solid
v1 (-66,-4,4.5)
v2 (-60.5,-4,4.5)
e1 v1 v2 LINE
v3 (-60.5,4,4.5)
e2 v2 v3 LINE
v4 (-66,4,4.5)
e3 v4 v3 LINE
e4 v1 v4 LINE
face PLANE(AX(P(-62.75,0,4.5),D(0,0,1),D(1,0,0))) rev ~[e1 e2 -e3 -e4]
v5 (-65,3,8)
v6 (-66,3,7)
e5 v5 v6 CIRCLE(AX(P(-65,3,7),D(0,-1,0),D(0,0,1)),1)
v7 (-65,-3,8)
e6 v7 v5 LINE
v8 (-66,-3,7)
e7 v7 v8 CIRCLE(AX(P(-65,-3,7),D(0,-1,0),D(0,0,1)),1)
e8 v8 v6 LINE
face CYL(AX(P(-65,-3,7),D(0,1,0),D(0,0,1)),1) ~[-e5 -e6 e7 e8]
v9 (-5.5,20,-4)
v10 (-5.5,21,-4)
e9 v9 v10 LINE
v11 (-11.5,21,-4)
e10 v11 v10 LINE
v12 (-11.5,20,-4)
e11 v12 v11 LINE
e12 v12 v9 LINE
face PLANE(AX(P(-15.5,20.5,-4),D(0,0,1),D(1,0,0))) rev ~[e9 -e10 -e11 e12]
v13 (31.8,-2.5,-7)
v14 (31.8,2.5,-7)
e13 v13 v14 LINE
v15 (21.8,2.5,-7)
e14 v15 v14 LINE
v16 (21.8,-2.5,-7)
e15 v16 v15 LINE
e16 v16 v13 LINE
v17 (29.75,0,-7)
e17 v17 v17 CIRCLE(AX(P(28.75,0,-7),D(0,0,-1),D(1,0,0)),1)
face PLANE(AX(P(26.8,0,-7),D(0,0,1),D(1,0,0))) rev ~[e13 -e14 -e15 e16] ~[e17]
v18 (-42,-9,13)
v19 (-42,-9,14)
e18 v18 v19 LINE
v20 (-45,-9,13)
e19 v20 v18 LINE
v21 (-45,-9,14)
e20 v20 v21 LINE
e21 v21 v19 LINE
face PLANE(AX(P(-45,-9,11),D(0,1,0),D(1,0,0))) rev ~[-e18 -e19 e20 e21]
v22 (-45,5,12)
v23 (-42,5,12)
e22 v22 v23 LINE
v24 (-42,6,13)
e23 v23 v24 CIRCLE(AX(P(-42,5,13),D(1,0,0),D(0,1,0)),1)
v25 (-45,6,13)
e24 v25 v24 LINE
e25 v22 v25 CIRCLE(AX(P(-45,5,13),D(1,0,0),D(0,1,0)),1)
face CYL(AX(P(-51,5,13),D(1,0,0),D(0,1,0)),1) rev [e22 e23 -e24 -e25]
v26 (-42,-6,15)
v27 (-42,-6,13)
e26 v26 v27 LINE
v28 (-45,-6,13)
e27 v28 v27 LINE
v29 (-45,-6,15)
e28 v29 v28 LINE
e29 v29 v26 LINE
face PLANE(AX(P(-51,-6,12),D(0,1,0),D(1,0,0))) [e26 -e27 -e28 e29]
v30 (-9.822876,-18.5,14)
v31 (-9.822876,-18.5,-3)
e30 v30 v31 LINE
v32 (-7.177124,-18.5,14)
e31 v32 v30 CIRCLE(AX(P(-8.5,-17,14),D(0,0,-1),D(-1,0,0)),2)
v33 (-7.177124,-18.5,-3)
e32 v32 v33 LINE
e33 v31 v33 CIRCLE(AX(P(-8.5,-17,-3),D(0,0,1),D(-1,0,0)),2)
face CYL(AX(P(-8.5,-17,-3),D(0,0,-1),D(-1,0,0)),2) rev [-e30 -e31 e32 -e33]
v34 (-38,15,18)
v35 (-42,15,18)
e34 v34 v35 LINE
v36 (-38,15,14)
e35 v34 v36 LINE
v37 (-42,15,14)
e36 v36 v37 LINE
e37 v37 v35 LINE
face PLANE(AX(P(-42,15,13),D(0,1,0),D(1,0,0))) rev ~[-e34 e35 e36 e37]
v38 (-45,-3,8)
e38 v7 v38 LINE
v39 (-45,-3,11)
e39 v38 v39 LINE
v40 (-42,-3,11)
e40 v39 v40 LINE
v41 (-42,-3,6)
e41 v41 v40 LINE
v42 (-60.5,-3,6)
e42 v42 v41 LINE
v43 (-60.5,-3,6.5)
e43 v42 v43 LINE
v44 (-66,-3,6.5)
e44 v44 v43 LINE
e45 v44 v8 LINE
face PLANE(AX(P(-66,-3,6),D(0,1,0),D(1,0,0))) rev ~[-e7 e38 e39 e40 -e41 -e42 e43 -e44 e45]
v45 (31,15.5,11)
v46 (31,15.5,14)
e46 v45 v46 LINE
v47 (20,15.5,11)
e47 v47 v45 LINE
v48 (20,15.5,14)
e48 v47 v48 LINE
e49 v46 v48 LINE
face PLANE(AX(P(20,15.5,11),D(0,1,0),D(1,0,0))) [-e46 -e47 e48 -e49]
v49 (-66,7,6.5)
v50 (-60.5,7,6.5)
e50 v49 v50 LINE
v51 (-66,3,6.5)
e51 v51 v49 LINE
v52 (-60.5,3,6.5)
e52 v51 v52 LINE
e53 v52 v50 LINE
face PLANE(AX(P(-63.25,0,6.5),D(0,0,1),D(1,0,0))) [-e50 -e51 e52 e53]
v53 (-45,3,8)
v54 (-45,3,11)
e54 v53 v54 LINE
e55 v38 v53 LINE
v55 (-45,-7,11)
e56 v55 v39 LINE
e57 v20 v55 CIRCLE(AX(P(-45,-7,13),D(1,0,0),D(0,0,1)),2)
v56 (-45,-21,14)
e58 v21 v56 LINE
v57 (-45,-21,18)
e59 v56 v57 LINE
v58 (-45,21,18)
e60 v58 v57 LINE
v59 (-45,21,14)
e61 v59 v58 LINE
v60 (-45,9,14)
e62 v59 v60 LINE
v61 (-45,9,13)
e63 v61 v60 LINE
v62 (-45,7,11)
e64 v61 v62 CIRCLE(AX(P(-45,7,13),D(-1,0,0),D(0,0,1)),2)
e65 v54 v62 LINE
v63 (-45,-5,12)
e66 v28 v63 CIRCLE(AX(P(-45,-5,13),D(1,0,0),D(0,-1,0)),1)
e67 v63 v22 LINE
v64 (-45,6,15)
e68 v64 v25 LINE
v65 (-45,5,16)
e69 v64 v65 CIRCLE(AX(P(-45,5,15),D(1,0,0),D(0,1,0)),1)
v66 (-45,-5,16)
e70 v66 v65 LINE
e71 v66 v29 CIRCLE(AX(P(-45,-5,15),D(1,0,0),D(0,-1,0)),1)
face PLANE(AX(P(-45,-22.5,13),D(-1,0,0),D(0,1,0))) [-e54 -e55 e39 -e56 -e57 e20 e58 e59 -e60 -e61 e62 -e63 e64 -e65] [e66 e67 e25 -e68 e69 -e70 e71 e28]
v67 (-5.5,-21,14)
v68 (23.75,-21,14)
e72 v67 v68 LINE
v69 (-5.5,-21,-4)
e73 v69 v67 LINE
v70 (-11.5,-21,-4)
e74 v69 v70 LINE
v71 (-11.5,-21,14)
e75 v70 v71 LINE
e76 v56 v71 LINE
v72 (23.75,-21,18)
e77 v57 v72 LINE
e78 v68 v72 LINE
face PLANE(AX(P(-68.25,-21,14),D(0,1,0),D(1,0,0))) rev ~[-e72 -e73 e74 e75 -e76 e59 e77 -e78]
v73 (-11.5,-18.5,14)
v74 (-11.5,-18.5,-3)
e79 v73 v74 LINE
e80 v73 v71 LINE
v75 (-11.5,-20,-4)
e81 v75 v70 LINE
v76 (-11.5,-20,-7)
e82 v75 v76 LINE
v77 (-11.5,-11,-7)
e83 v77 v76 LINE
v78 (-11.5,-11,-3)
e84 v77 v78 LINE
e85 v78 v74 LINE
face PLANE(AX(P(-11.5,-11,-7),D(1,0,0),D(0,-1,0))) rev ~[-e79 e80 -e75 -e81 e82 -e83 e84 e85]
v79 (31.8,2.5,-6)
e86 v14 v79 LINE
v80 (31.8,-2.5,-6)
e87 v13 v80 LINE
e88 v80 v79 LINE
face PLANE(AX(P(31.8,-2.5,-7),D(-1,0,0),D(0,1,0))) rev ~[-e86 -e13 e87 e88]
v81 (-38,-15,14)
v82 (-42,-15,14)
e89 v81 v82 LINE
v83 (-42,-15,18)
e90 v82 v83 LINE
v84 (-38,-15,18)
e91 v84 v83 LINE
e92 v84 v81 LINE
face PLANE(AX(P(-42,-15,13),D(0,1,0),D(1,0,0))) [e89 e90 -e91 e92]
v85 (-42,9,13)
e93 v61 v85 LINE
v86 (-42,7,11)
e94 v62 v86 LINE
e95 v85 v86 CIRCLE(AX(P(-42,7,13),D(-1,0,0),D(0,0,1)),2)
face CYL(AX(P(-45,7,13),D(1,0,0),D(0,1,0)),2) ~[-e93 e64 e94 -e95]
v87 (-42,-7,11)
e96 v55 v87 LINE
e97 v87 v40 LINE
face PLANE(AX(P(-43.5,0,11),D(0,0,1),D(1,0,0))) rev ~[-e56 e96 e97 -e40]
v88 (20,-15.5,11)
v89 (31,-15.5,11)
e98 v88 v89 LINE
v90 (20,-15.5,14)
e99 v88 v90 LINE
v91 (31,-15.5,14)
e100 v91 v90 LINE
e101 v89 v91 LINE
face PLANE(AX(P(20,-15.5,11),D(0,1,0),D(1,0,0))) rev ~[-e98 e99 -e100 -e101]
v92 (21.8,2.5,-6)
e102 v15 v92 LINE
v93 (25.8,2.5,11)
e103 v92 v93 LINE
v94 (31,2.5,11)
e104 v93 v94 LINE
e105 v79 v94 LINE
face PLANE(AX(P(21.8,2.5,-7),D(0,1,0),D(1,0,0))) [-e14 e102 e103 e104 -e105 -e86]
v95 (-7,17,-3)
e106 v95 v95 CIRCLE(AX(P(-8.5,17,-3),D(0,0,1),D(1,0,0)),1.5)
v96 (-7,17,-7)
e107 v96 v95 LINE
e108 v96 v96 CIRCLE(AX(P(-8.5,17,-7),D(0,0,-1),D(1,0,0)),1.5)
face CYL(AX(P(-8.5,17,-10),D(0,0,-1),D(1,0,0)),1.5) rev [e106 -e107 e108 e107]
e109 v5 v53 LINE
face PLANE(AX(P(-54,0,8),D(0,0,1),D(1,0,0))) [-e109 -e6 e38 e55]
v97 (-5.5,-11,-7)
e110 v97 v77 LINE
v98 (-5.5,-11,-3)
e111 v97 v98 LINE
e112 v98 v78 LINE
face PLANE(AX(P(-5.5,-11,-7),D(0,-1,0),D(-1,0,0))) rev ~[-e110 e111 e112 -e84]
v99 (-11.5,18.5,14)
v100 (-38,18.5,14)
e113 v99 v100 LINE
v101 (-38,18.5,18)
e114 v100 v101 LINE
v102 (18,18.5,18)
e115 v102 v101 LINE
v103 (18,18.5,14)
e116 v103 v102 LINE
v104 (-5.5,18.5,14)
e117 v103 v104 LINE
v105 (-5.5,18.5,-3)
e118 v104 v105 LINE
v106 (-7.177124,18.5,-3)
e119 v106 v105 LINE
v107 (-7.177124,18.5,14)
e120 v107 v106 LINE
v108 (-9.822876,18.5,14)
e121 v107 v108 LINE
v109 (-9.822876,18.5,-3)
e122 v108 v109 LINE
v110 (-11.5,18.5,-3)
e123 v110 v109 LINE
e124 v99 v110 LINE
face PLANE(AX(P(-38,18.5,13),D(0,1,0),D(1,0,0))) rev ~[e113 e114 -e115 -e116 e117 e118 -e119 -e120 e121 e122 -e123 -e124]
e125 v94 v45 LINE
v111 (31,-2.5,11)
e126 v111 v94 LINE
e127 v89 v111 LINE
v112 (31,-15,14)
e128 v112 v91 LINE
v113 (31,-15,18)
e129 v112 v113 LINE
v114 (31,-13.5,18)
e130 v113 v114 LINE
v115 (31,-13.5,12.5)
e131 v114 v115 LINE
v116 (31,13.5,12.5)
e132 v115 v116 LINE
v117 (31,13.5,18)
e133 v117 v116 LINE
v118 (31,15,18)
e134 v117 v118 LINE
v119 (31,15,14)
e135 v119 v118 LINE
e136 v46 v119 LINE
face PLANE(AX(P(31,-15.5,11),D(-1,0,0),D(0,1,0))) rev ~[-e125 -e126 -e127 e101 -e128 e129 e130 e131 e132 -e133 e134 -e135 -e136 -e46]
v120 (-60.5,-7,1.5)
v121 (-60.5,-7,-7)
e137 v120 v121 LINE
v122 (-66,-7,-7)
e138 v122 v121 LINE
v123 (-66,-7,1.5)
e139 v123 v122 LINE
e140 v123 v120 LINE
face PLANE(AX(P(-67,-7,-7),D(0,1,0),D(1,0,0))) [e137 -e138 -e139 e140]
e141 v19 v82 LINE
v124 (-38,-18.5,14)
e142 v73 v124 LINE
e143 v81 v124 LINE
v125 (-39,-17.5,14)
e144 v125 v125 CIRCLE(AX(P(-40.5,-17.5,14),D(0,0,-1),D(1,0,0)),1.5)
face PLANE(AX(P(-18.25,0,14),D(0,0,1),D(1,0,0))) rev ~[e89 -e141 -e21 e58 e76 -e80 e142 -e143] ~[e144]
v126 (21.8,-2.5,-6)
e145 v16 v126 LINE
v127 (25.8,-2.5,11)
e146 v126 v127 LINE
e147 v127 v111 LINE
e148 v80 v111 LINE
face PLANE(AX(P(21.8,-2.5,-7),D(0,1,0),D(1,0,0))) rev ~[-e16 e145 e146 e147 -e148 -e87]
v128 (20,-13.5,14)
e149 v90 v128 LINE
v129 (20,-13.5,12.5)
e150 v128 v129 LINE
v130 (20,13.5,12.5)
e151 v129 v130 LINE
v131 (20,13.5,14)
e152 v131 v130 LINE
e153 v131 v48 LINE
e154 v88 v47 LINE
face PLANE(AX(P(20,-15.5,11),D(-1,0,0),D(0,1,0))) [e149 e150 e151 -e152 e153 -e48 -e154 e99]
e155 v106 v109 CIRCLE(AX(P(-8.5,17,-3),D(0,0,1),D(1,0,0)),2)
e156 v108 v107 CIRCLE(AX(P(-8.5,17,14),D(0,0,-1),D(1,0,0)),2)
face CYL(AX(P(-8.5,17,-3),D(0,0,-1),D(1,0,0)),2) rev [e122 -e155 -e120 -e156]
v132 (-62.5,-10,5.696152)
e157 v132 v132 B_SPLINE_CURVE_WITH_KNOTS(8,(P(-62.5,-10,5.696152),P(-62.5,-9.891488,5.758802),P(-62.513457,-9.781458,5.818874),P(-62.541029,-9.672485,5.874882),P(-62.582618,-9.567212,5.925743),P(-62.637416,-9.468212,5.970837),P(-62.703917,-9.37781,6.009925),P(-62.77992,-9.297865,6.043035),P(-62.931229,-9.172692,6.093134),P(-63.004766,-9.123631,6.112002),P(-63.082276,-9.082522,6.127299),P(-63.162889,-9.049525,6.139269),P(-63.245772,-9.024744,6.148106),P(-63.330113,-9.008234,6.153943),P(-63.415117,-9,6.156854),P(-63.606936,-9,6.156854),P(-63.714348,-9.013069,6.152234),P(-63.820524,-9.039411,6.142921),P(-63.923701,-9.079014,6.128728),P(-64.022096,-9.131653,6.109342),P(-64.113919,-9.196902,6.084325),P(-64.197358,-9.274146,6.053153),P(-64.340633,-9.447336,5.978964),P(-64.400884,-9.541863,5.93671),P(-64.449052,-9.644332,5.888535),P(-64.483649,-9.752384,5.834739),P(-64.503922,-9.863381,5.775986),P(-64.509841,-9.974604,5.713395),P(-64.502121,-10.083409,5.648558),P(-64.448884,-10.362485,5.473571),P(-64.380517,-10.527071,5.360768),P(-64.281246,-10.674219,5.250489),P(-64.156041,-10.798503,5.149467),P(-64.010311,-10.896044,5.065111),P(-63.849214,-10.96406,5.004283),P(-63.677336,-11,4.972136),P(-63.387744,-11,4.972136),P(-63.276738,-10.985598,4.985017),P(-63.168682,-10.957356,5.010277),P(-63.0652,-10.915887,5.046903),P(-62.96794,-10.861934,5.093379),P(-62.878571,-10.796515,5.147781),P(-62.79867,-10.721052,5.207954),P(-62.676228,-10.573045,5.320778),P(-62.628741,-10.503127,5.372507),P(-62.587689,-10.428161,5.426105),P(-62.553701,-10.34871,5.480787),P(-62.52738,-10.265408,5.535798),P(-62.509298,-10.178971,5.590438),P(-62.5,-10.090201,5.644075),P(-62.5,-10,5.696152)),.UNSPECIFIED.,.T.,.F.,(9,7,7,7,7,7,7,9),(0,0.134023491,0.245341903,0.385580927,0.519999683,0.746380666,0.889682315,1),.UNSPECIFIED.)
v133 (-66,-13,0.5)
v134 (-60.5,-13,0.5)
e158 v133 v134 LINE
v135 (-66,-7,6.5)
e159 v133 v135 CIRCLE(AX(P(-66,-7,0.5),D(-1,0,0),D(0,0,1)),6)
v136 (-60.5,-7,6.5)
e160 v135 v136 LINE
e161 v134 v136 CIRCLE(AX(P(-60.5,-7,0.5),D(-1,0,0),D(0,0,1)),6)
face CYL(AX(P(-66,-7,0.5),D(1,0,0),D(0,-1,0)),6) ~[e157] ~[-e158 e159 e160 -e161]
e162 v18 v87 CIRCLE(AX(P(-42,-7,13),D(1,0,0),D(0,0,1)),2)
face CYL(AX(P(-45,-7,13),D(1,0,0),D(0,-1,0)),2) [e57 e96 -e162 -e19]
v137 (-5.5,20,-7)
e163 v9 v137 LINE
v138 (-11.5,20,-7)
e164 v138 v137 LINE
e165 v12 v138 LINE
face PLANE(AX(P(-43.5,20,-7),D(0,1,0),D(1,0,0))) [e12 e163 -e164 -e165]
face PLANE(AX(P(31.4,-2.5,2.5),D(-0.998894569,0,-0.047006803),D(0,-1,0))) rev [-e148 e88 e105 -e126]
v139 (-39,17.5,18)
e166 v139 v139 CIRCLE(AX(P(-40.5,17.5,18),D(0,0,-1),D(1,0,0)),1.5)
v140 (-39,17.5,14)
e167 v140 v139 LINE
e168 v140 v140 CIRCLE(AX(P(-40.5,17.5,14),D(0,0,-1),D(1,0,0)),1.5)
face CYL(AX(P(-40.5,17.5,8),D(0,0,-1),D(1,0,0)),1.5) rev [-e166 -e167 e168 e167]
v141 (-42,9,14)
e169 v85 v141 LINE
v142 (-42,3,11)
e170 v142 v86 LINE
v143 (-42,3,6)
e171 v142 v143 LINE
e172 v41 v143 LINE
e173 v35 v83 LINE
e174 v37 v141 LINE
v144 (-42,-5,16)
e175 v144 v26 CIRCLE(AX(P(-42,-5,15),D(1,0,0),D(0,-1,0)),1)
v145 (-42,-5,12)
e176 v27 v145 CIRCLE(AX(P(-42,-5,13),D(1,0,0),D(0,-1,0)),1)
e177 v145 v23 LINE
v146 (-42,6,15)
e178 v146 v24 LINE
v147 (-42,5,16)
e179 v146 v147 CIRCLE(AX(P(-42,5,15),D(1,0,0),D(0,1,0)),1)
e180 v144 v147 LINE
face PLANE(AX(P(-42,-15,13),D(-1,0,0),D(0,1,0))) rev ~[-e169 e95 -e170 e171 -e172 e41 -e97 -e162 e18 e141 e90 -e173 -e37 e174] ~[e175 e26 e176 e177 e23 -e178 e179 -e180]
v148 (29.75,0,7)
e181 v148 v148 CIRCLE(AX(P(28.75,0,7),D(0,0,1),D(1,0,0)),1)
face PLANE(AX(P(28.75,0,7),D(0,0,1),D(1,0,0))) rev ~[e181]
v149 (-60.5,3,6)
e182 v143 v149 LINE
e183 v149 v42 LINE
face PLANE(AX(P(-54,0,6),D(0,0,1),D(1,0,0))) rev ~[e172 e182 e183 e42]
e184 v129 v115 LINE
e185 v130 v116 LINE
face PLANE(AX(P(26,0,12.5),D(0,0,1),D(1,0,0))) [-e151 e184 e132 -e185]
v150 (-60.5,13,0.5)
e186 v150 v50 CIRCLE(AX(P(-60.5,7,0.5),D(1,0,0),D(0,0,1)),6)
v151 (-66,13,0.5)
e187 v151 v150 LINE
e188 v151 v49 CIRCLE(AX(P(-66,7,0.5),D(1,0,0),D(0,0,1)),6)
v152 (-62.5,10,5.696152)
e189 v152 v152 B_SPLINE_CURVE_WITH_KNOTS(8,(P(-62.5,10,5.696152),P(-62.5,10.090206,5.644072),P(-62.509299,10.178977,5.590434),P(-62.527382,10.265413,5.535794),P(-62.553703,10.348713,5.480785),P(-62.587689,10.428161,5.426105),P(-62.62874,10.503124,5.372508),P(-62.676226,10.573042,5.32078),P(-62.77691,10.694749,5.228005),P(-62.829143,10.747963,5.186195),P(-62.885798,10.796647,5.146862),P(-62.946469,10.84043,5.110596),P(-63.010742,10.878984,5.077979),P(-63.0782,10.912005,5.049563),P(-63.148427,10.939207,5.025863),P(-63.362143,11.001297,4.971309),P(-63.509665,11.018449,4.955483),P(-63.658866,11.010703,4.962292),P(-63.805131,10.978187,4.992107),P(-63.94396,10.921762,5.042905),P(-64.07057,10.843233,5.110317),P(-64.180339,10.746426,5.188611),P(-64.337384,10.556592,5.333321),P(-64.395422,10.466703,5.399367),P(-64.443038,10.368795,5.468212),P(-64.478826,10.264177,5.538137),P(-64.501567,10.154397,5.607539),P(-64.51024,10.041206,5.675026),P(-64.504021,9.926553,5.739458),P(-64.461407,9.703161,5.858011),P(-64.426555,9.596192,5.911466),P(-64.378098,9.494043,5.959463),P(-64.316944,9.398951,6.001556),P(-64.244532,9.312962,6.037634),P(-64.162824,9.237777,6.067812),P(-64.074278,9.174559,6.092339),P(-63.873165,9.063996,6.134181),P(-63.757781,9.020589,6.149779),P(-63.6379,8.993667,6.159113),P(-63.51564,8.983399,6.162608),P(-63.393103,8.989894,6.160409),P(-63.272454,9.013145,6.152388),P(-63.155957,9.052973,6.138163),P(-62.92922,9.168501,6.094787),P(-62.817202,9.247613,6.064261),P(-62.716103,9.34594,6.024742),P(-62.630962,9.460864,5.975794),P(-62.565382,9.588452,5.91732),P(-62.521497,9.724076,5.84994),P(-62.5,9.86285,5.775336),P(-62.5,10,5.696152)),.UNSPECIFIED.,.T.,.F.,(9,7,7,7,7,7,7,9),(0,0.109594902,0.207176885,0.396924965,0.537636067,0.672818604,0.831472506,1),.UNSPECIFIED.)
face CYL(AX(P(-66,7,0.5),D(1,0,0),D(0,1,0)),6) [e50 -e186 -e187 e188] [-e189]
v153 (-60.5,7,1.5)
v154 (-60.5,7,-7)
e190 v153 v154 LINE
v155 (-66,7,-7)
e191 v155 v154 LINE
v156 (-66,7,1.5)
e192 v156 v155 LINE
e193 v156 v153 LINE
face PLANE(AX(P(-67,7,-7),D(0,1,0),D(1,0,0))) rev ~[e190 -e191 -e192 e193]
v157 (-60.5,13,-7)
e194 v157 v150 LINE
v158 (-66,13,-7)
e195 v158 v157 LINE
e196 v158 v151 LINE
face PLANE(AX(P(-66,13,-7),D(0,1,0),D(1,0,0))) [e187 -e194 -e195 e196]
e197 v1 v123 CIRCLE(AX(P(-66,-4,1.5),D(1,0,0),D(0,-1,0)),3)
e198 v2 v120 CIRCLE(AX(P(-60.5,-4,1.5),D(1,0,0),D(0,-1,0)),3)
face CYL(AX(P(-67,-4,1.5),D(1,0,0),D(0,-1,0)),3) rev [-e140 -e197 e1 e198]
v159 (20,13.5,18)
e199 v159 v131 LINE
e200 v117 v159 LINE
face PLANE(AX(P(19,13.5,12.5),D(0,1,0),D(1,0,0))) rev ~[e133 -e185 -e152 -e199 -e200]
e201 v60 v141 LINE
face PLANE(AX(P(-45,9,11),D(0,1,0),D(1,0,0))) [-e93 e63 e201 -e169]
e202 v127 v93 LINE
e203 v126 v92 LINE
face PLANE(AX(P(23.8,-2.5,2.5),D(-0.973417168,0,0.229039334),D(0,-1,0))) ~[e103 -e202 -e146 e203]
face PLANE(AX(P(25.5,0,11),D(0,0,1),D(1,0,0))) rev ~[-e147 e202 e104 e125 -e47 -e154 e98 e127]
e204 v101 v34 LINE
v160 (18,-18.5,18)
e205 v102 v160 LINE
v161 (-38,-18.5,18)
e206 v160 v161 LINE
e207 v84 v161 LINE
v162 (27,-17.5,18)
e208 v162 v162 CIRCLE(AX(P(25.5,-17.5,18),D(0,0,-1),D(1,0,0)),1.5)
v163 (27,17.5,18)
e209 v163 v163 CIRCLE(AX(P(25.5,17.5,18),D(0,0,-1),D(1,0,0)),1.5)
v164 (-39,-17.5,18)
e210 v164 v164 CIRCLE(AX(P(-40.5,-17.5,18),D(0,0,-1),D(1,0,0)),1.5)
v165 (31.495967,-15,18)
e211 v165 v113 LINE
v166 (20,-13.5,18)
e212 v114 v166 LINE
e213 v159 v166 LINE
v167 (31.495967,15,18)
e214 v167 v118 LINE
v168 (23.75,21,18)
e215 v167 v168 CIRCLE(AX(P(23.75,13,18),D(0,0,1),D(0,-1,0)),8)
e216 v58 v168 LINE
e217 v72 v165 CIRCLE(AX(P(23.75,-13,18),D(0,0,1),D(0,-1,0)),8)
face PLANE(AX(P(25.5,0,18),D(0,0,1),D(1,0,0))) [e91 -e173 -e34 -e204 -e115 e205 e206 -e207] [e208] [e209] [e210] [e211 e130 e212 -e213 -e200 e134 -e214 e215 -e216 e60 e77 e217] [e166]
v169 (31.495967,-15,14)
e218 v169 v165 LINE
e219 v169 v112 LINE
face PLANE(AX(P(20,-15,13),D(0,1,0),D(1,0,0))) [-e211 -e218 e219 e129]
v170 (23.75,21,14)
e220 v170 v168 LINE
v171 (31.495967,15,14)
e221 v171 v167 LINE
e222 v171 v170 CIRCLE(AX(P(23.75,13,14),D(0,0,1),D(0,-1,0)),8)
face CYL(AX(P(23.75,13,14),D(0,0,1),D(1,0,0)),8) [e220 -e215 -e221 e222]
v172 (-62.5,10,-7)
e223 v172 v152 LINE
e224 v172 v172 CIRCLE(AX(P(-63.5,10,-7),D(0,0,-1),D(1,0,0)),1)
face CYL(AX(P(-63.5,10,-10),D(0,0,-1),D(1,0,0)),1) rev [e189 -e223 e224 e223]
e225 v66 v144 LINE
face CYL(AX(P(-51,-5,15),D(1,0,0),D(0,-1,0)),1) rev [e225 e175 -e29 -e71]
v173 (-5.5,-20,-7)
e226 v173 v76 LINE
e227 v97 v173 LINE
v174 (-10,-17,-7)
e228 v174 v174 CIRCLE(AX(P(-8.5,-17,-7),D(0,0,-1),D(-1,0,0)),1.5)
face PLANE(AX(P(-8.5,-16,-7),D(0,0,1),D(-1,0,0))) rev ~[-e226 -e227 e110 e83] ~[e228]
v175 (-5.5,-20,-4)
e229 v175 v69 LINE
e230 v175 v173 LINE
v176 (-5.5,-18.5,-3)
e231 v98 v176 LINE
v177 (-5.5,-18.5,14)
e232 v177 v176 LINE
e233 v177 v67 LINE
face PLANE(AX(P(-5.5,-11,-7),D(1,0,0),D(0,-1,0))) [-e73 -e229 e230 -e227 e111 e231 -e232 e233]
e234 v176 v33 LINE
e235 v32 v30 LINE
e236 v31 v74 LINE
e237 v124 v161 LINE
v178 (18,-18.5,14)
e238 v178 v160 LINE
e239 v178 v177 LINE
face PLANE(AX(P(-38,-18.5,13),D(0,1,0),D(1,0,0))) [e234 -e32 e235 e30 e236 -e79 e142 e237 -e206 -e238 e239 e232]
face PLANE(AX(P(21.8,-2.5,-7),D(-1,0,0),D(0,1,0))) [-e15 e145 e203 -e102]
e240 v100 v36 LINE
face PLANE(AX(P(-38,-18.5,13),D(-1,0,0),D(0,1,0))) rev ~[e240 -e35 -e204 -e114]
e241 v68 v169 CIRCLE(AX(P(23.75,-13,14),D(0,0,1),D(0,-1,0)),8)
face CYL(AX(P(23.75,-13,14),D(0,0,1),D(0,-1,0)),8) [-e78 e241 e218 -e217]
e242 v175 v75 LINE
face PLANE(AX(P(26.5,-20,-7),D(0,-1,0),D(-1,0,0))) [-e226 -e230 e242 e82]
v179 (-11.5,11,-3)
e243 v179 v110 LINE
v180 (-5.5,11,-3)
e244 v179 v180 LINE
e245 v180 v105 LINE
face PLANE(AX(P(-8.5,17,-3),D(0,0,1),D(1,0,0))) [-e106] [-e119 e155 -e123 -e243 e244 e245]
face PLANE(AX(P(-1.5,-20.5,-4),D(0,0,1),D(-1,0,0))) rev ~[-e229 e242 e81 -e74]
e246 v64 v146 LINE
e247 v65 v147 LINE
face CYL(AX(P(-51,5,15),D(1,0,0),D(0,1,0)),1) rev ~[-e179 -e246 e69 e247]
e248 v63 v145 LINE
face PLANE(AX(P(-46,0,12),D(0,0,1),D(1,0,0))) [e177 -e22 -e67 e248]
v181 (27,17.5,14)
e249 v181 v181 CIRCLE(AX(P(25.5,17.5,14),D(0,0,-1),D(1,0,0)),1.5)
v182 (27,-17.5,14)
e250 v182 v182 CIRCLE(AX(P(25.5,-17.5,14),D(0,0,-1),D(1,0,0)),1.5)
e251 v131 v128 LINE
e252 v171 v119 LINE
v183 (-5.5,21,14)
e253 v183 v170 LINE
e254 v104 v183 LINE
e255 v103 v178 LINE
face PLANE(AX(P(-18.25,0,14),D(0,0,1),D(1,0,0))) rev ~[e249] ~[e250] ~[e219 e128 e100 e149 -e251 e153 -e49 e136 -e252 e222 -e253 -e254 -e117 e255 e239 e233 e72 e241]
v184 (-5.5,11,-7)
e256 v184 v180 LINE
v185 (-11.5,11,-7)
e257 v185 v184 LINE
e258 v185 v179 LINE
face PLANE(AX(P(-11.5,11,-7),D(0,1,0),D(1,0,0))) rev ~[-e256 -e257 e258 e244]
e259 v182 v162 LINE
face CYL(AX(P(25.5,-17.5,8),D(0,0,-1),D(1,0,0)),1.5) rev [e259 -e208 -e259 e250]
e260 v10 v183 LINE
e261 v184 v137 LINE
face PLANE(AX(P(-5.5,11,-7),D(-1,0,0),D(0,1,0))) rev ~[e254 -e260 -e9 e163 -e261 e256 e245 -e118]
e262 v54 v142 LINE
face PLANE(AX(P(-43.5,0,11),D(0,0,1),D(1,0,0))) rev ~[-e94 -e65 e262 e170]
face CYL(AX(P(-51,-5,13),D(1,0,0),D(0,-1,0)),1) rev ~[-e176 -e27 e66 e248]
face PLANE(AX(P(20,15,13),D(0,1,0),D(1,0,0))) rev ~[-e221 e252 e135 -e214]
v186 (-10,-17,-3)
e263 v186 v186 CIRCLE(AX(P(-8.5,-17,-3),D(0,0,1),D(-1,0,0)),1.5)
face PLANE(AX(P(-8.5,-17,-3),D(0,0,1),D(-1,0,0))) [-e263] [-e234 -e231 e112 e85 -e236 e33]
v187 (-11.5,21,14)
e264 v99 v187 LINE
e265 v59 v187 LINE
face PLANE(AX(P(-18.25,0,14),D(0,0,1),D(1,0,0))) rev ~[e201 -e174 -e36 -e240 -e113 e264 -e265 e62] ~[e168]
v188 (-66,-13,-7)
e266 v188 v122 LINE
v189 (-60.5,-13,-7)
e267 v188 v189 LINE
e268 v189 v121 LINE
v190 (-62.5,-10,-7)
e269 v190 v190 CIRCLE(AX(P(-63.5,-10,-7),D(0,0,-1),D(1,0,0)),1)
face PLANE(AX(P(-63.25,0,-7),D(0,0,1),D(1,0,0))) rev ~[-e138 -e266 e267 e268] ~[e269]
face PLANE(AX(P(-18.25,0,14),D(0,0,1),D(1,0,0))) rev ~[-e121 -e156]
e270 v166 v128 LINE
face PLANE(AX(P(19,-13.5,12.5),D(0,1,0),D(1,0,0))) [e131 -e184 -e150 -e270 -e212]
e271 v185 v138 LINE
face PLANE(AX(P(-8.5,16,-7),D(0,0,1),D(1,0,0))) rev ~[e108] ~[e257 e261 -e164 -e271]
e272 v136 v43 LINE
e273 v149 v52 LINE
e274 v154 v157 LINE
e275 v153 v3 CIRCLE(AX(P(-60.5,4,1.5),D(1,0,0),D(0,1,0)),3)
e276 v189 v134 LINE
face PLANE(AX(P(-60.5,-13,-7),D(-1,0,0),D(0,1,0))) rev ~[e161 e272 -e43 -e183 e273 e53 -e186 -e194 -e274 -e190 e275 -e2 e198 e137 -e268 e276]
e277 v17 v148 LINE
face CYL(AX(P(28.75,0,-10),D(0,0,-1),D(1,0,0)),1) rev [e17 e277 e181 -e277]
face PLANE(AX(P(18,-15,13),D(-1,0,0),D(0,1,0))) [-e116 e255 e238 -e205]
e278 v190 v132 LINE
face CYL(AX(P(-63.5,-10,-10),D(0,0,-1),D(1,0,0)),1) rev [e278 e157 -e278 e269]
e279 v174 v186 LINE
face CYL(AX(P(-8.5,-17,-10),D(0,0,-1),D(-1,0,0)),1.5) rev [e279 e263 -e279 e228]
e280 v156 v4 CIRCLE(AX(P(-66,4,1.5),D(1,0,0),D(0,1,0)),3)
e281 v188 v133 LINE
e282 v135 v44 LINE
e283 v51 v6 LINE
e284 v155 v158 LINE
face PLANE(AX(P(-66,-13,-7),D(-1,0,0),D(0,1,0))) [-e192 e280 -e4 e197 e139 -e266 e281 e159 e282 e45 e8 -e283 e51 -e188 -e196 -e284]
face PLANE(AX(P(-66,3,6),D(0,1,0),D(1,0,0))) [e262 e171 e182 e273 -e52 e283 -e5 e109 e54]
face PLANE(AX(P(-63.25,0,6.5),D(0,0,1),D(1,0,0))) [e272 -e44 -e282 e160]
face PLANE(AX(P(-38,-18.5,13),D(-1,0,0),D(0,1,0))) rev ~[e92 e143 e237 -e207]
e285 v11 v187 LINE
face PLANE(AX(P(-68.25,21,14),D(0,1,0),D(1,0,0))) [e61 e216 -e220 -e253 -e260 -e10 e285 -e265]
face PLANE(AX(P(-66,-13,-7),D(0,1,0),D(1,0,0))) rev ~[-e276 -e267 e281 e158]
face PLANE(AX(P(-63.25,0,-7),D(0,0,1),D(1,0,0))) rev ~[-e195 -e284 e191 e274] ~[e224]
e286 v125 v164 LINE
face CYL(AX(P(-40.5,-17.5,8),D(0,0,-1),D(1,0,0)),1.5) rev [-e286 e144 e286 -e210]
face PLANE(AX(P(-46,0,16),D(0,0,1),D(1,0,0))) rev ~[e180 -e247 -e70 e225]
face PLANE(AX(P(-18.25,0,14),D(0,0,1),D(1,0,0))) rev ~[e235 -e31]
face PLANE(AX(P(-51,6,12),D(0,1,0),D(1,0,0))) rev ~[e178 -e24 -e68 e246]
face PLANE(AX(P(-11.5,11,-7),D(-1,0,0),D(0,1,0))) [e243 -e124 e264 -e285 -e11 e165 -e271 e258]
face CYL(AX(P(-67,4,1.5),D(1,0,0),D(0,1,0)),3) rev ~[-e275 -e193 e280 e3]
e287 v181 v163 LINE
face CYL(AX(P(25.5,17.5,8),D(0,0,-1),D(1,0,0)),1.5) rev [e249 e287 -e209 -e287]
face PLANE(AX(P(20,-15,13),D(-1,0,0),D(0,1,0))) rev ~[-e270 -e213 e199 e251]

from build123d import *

# Parameters (mm, degrees)
BOX148_W               = 10
BOX148_H               = 12
BOX148_DEPTH           = 4
FILLET092_R            = 1
CYLINDER225_R          = 1
CYLINDER225_DEPTH      = 17
BOX132_W               = 10
BOX132_H               = 5
BOX132_DEPTH           = 18
CHAMFER021_1_SIZE2     = 4
CHAMFER021_1_SIZE      = 17
CHAMFER021_2_SIZE2     = 0.8
CHAMFER021_2_SIZE      = 17
BOX116_W               = 56
BOX116_H               = 37
BOX116_DEPTH           = 6
BOX130_W               = 60
BOX130_H               = 30
BOX130_DEPTH           = 6
CYLINDER224_R          = 1.5
CYLINDER224_DEPTH      = 12
BOX131_W               = 12
BOX131_H               = 30
BOX131_DEPTH           = 6
CYLINDER222_R          = 1.5
CYLINDER222_DEPTH      = 12
CYLINDER221_R          = 1.5
CYLINDER221_DEPTH      = 12
CYLINDER223_R          = 1.5
CYLINDER223_DEPTH      = 12
BOX134_W               = 25
BOX134_H               = 45
BOX134_DEPTH           = 6
BOX097_W               = 100
BOX097_H               = 42
BOX097_DEPTH           = 4
FILLET082_R            = 8
CYLINDER226_R          = 1.5
CYLINDER226_DEPTH      = 21
BOX138_W               = 8
BOX138_H               = 10
BOX138_DEPTH           = 21
BOX137_W               = 8
BOX137_H               = 10
BOX137_DEPTH           = 21
CYLINDER228_R          = 2
CYLINDER228_DEPTH      = 21
BOX110_W               = 56
BOX110_H               = 1
BOX110_DEPTH           = 3
BOX136_W               = 6
BOX136_H               = 10
BOX136_DEPTH           = 21
CYLINDER227_R          = 1.5
CYLINDER227_DEPTH      = 21
BOX141_W               = 8
BOX141_H               = 10
BOX141_DEPTH           = 21
BOX140_W               = 8
BOX140_H               = 10
BOX140_DEPTH           = 21
CYLINDER229_R          = 2
CYLINDER229_DEPTH      = 21
BOX139_W               = 56
BOX139_H               = 1
BOX139_DEPTH           = 3
BOX142_W               = 6
BOX142_H               = 10
BOX142_DEPTH           = 21
CUT100_PLACEMENT_ANGLE = 180
BOX143_W               = 14
BOX143_H               = 27
BOX143_DEPTH           = 8
BOX144_W               = 11
BOX144_H               = 31
BOX144_DEPTH           = 7
CYLINDER233_R          = 1
CYLINDER233_DEPTH      = 19
CYLINDER232_R          = 1
CYLINDER232_DEPTH      = 19
BOX152_W               = 8.5
BOX152_H               = 14
BOX152_DEPTH           = 11.5
FILLET095_R            = 3
BOX151_W               = 5.5
BOX151_H               = 26
BOX151_DEPTH           = 13.5
FILLET093_R            = 6
BOX150_W               = 24
BOX150_H               = 6
BOX150_DEPTH           = 2
BOX147_W               = 3
BOX147_H               = 18
BOX147_DEPTH           = 4
FILLET090_R            = 2
BOX149_W               = 3
BOX149_H               = 6
BOX149_DEPTH           = 6
FILLET094_R            = 1


with BuildPart() as fillet092:
    # Box148 → Box148 (new body)
    with BuildSketch(Plane(origin=(-51, -6, 12), x_dir=(1, 0, 0), z_dir=(0, 0, 1))):
        with Locations((5, 6)):
            Rectangle(BOX148_W, BOX148_H)
    extrude(amount=BOX148_DEPTH)

    # Fillet092
    fillet092_edges = [fillet092.edges().sort_by_distance(p)[0] for p in [
        (-46, -6, 12),
        (-46, -6, 16),
        (-46, 6, 12),
        (-46, 6, 16),
    ]]
    fillet(fillet092_edges, radius=FILLET092_R)


with BuildPart() as zylinder225:
    # Cylinder225 → Cylinder225 (new body)
    with BuildSketch(Plane(origin=(28.75, 0, -10), x_dir=(1, 0, 0), z_dir=(0, 0, 1))):
        Circle(CYLINDER225_R)
    extrude(amount=CYLINDER225_DEPTH)


with BuildPart() as cut098:
    # Box132 → Box132 (new body)
    with BuildSketch(Plane(origin=(21.8, -2.5, -7), x_dir=(1, 0, 0), z_dir=(0, 0, 1))):
        with Locations((5, 2.5)):
            Rectangle(BOX132_W, BOX132_H)
    extrude(amount=BOX132_DEPTH)

    # Chamfer021 1
    chamfer021_1_edges = [cut098.edges().sort_by_distance(p)[0] for p in [
        (21.8, 0, 11),
    ]]
    chamfer021_1_side = cut098.faces().sort_by_distance((21.8, 0, 2))[0]
    chamfer(chamfer021_1_edges, length=CHAMFER021_1_SIZE, length2=CHAMFER021_1_SIZE2, reference=chamfer021_1_side)

    # Chamfer021 2
    chamfer021_2_edges = [cut098.edges().sort_by_distance(p)[0] for p in [
        (31.8, 0, 11),
    ]]
    chamfer021_2_side = cut098.faces().sort_by_distance((31.8, 0, 2))[0]
    chamfer(chamfer021_2_edges, length=CHAMFER021_2_SIZE, length2=CHAMFER021_2_SIZE2, reference=chamfer021_2_side)

    # Cut098: cut Zylinder225
    add(zylinder225.part, mode=Mode.SUBTRACT)


with BuildPart() as w_rfel110:
    # Box116 → Box116 (new body)
    with BuildSketch(Plane(origin=(-38, -18.5, 13), x_dir=(1, 0, 0), z_dir=(0, 0, 1))):
        with Locations((28, 18.5)):
            Rectangle(BOX116_W, BOX116_H)
    extrude(amount=BOX116_DEPTH)


with BuildPart() as w_rfel120:
    # Box130 → Box130 (new body)
    with BuildSketch(Plane(origin=(-42, -15, 13), x_dir=(1, 0, 0), z_dir=(0, 0, 1))):
        with Locations((30, 15)):
            Rectangle(BOX130_W, BOX130_H)
    extrude(amount=BOX130_DEPTH)


with BuildPart() as zylinder224:
    # Cylinder224 → Cylinder224 (new body)
    with BuildSketch(Plane(origin=(25.5, 17.5, 8), x_dir=(1, 0, 0), z_dir=(0, 0, 1))):
        Circle(CYLINDER224_R)
    extrude(amount=CYLINDER224_DEPTH)


with BuildPart() as w_rfel121:
    # Box131 → Box131 (new body)
    with BuildSketch(Plane(origin=(20, -15, 13), x_dir=(1, 0, 0), z_dir=(0, 0, 1))):
        with Locations((6, 15)):
            Rectangle(BOX131_W, BOX131_H)
    extrude(amount=BOX131_DEPTH)


with BuildPart() as zylinder222:
    # Cylinder222 → Cylinder222 (new body)
    with BuildSketch(Plane(origin=(-40.5, -17.5, 8), x_dir=(1, 0, 0), z_dir=(0, 0, 1))):
        Circle(CYLINDER222_R)
    extrude(amount=CYLINDER222_DEPTH)


with BuildPart() as zylinder221:
    # Cylinder221 → Cylinder221 (new body)
    with BuildSketch(Plane(origin=(-40.5, 17.5, 8), x_dir=(1, 0, 0), z_dir=(0, 0, 1))):
        Circle(CYLINDER221_R)
    extrude(amount=CYLINDER221_DEPTH)


with BuildPart() as zylinder223:
    # Cylinder223 → Cylinder223 (new body)
    with BuildSketch(Plane(origin=(25.5, -17.5, 8), x_dir=(1, 0, 0), z_dir=(0, 0, 1))):
        Circle(CYLINDER223_R)
    extrude(amount=CYLINDER223_DEPTH)


with BuildPart() as fusion142:
    # Box134 → Box134 (new body)
    with BuildSketch(Plane(origin=(-70, -22.5, 13), x_dir=(1, 0, 0), z_dir=(0, 0, 1))):
        with Locations((12.5, 22.5)):
            Rectangle(BOX134_W, BOX134_H)
    extrude(amount=BOX134_DEPTH)

    # Fusion142: union Würfel110, Würfel120, Zylinder224, Würfel121, Zylinder222, Zylinder221, Zylinder223
    add(w_rfel110.part)
    add(w_rfel120.part)
    add(zylinder224.part)
    add(w_rfel121.part)
    add(zylinder222.part)
    add(zylinder221.part)
    add(zylinder223.part)


with BuildPart() as cut097:
    # Box097 → Box097 (new body)
    with BuildSketch(Plane(origin=(-68.25, -21, 14), x_dir=(1, 0, 0), z_dir=(0, 0, 1))):
        with Locations((50, 21)):
            Rectangle(BOX097_W, BOX097_H)
    extrude(amount=BOX097_DEPTH)

    # Fillet082
    fillet082_edges = [cut097.edges().sort_by_distance(p)[0] for p in [
        (-68.25, -21, 16),
        (-68.25, 21, 16),
        (31.75, -21, 16),
        (31.75, 21, 16),
    ]]
    fillet(fillet082_edges, radius=FILLET082_R)

    # Cut097: cut Fusion142
    add(fusion142.part, mode=Mode.SUBTRACT)


with BuildPart() as zylinder226:
    # Cylinder226 → Cylinder226 (new body)
    with BuildSketch(Plane(origin=(-8.5, 17, -10), x_dir=(1, 0, 0), z_dir=(0, 0, 1))):
        Circle(CYLINDER226_R)
    extrude(amount=CYLINDER226_DEPTH)


with BuildPart() as w_rfel128:
    # Box138 → Box138 (new body)
    with BuildSketch(Plane(origin=(-12.5, 8.5, -3), x_dir=(1, 0, 0), z_dir=(0, 0, 1))):
        with Locations((4, 5)):
            Rectangle(BOX138_W, BOX138_H)
    extrude(amount=BOX138_DEPTH)


with BuildPart() as w_rfel127:
    # Box137 → Box137 (new body)
    with BuildSketch(Plane(origin=(-12.5, 5.5, -3), x_dir=(1, 0, 0), z_dir=(0, 0, 1))):
        with Locations((4, 5)):
            Rectangle(BOX137_W, BOX137_H)
    extrude(amount=BOX137_DEPTH)


with BuildPart() as zylinder228:
    # Cylinder228 → Cylinder228 (new body)
    with BuildSketch(Plane(origin=(-8.5, 17, -3), x_dir=(1, 0, 0), z_dir=(0, 0, 1))):
        Circle(CYLINDER228_R)
    extrude(amount=CYLINDER228_DEPTH)


with BuildPart() as fusion144:
    # Box110 → Box110 (new body)
    with BuildSketch(Plane(origin=(-43.5, 20, -7), x_dir=(1, 0, 0), z_dir=(0, 0, 1))):
        with Locations((28, 0.5)):
            Rectangle(BOX110_W, BOX110_H)
    extrude(amount=BOX110_DEPTH)

    # Fusion144: union Zylinder226, Würfel128, Würfel127, Zylinder228
    add(zylinder226.part)
    add(w_rfel128.part)
    add(w_rfel127.part)
    add(zylinder228.part)


with BuildPart() as cut099:
    # Box136 → Box136 (new body)
    with BuildSketch(Plane(origin=(-11.5, 11, -7), x_dir=(1, 0, 0), z_dir=(0, 0, 1))):
        with Locations((3, 5)):
            Rectangle(BOX136_W, BOX136_H)
    extrude(amount=BOX136_DEPTH)

    # Cut099: cut Fusion144
    add(fusion144.part, mode=Mode.SUBTRACT)


with BuildPart() as zylinder227:
    # Cylinder227 → Cylinder227 (new body)
    with BuildSketch(Plane(origin=(-8.5, 17, -10), x_dir=(1, 0, 0), z_dir=(0, 0, 1))):
        Circle(CYLINDER227_R)
    extrude(amount=CYLINDER227_DEPTH)


with BuildPart() as w_rfel131:
    # Box141 → Box141 (new body)
    with BuildSketch(Plane(origin=(-12.5, 8.5, -3), x_dir=(1, 0, 0), z_dir=(0, 0, 1))):
        with Locations((4, 5)):
            Rectangle(BOX141_W, BOX141_H)
    extrude(amount=BOX141_DEPTH)


with BuildPart() as w_rfel130:
    # Box140 → Box140 (new body)
    with BuildSketch(Plane(origin=(-12.5, 5.5, -3), x_dir=(1, 0, 0), z_dir=(0, 0, 1))):
        with Locations((4, 5)):
            Rectangle(BOX140_W, BOX140_H)
    extrude(amount=BOX140_DEPTH)


with BuildPart() as zylinder229:
    # Cylinder229 → Cylinder229 (new body)
    with BuildSketch(Plane(origin=(-8.5, 17, -3), x_dir=(1, 0, 0), z_dir=(0, 0, 1))):
        Circle(CYLINDER229_R)
    extrude(amount=CYLINDER229_DEPTH)


with BuildPart() as fusion145:
    # Box139 → Box139 (new body)
    with BuildSketch(Plane(origin=(-43.5, 20, -7), x_dir=(1, 0, 0), z_dir=(0, 0, 1))):
        with Locations((28, 0.5)):
            Rectangle(BOX139_W, BOX139_H)
    extrude(amount=BOX139_DEPTH)

    # Fusion145: union Zylinder227, Würfel131, Würfel130, Zylinder229
    add(zylinder227.part)
    add(w_rfel131.part)
    add(w_rfel130.part)
    add(zylinder229.part)


with BuildPart() as cut100:
    # Box142 → Box142 (new body)
    with BuildSketch(Plane(origin=(-11.5, 11, -7), x_dir=(1, 0, 0), z_dir=(0, 0, 1))):
        with Locations((3, 5)):
            Rectangle(BOX142_W, BOX142_H)
    extrude(amount=BOX142_DEPTH)

    # Cut100: cut Fusion145
    add(fusion145.part, mode=Mode.SUBTRACT)


with BuildPart() as cut100_1:
    # Cut100 placement: moved
    add(cut100.part.moved(Location((-17, 0, 0))).rotate(Axis((-17, 0, 0), (0, 0, 1)), CUT100_PLACEMENT_ANGLE))


with BuildPart() as w_rfel133:
    # Box143 → Box143 (new body)
    with BuildSketch(Plane(origin=(19, -13.5, 12.5), x_dir=(1, 0, 0), z_dir=(0, 0, 1))):
        with Locations((7, 13.5)):
            Rectangle(BOX143_W, BOX143_H)
    extrude(amount=BOX143_DEPTH)


with BuildPart() as cut101:
    # Box144 → Box144 (new body)
    with BuildSketch(Plane(origin=(20, -15.5, 11), x_dir=(1, 0, 0), z_dir=(0, 0, 1))):
        with Locations((5.5, 15.5)):
            Rectangle(BOX144_W, BOX144_H)
    extrude(amount=BOX144_DEPTH)

    # Cut101: cut Würfel133
    add(w_rfel133.part, mode=Mode.SUBTRACT)


with BuildPart() as zylinder233:
    # Cylinder233 → Cylinder233 (new body)
    with BuildSketch(Plane(origin=(-63.5, 10, -10), x_dir=(1, 0, 0), z_dir=(0, 0, 1))):
        Circle(CYLINDER233_R)
    extrude(amount=CYLINDER233_DEPTH)


with BuildPart() as zylinder232:
    # Cylinder232 → Cylinder232 (new body)
    with BuildSketch(Plane(origin=(-63.5, -10, -10), x_dir=(1, 0, 0), z_dir=(0, 0, 1))):
        Circle(CYLINDER232_R)
    extrude(amount=CYLINDER232_DEPTH)


with BuildPart() as fusion149:
    # Box152 → Box152 (new body)
    with BuildSketch(Plane(origin=(-67, -10, -7), x_dir=(1, 0, 0), z_dir=(0, 0, 1))):
        with Locations((4.25, 7)):
            Rectangle(BOX152_W, BOX152_H)
    extrude(amount=BOX152_DEPTH)

    # Fillet095
    fillet095_edges = [fusion149.edges().sort_by_distance(p)[0] for p in [
        (-62.75, -10, 4.5),
        (-62.75, 4, 4.5),
    ]]
    fillet(fillet095_edges, radius=FILLET095_R)


with BuildPart() as fusion149_1:
    # Fillet095 placement: moved
    add(fusion149.part.moved(Location((0, 3, 0))))

    # Fusion149: union Zylinder233, Zylinder232
    add(zylinder233.part)
    add(zylinder232.part)


with BuildPart() as cut104:
    # Box151 → Box151 (new body)
    with BuildSketch(Plane(origin=(-66, -13, -7), x_dir=(1, 0, 0), z_dir=(0, 0, 1))):
        with Locations((2.75, 13)):
            Rectangle(BOX151_W, BOX151_H)
    extrude(amount=BOX151_DEPTH)

    # Fillet093
    fillet093_edges = [cut104.edges().sort_by_distance(p)[0] for p in [
        (-63.25, -13, 6.5),
        (-63.25, 13, 6.5),
    ]]
    fillet(fillet093_edges, radius=FILLET093_R)

    # Cut104: cut Fusion149
    add(fusion149_1.part, mode=Mode.SUBTRACT)


with BuildPart() as w_rfel140:
    # Box150 → Box150 (new body)
    with BuildSketch(Plane(origin=(-66, -3, 6), x_dir=(1, 0, 0), z_dir=(0, 0, 1))):
        with Locations((12, 3)):
            Rectangle(BOX150_W, BOX150_H)
    extrude(amount=BOX150_DEPTH)


with BuildPart() as fillet090:
    # Box147 → Box147 (new body)
    with BuildSketch(Plane(origin=(-45, -9, 11), x_dir=(1, 0, 0), z_dir=(0, 0, 1))):
        with Locations((1.5, 9)):
            Rectangle(BOX147_W, BOX147_H)
    extrude(amount=BOX147_DEPTH)

    # Fillet090
    fillet090_edges = [fillet090.edges().sort_by_distance(p)[0] for p in [
        (-43.5, -9, 11),
        (-43.5, 9, 11),
    ]]
    fillet(fillet090_edges, radius=FILLET090_R)


with BuildPart() as cut108:
    # Box149 → Box149 (new body)
    with BuildSketch(Plane(origin=(-45, -3, 6), x_dir=(1, 0, 0), z_dir=(0, 0, 1))):
        with Locations((1.5, 3)):
            Rectangle(BOX149_W, BOX149_H)
    extrude(amount=BOX149_DEPTH)

    # Fusion148: union Würfel140, Fillet090
    add(w_rfel140.part)
    add(fillet090.part)

    # Fillet094
    fillet094_edges = [cut108.edges().sort_by_distance(p)[0] for p in [
        (-66, 0, 8),
    ]]
    fillet(fillet094_edges, radius=FILLET094_R)

    # Fusion150: union Cut104
    add(cut104.part)

    # Fusion157: union Cut098, Cut097, Cut099, Cut100, Cut101
    add(cut098.part)
    add(cut097.part)
    add(cut099.part)
    add(cut100_1.part)
    add(cut101.part)

    # Cut108: cut Fillet092
    add(fillet092.part, mode=Mode.SUBTRACT)


solid = cut108.part
